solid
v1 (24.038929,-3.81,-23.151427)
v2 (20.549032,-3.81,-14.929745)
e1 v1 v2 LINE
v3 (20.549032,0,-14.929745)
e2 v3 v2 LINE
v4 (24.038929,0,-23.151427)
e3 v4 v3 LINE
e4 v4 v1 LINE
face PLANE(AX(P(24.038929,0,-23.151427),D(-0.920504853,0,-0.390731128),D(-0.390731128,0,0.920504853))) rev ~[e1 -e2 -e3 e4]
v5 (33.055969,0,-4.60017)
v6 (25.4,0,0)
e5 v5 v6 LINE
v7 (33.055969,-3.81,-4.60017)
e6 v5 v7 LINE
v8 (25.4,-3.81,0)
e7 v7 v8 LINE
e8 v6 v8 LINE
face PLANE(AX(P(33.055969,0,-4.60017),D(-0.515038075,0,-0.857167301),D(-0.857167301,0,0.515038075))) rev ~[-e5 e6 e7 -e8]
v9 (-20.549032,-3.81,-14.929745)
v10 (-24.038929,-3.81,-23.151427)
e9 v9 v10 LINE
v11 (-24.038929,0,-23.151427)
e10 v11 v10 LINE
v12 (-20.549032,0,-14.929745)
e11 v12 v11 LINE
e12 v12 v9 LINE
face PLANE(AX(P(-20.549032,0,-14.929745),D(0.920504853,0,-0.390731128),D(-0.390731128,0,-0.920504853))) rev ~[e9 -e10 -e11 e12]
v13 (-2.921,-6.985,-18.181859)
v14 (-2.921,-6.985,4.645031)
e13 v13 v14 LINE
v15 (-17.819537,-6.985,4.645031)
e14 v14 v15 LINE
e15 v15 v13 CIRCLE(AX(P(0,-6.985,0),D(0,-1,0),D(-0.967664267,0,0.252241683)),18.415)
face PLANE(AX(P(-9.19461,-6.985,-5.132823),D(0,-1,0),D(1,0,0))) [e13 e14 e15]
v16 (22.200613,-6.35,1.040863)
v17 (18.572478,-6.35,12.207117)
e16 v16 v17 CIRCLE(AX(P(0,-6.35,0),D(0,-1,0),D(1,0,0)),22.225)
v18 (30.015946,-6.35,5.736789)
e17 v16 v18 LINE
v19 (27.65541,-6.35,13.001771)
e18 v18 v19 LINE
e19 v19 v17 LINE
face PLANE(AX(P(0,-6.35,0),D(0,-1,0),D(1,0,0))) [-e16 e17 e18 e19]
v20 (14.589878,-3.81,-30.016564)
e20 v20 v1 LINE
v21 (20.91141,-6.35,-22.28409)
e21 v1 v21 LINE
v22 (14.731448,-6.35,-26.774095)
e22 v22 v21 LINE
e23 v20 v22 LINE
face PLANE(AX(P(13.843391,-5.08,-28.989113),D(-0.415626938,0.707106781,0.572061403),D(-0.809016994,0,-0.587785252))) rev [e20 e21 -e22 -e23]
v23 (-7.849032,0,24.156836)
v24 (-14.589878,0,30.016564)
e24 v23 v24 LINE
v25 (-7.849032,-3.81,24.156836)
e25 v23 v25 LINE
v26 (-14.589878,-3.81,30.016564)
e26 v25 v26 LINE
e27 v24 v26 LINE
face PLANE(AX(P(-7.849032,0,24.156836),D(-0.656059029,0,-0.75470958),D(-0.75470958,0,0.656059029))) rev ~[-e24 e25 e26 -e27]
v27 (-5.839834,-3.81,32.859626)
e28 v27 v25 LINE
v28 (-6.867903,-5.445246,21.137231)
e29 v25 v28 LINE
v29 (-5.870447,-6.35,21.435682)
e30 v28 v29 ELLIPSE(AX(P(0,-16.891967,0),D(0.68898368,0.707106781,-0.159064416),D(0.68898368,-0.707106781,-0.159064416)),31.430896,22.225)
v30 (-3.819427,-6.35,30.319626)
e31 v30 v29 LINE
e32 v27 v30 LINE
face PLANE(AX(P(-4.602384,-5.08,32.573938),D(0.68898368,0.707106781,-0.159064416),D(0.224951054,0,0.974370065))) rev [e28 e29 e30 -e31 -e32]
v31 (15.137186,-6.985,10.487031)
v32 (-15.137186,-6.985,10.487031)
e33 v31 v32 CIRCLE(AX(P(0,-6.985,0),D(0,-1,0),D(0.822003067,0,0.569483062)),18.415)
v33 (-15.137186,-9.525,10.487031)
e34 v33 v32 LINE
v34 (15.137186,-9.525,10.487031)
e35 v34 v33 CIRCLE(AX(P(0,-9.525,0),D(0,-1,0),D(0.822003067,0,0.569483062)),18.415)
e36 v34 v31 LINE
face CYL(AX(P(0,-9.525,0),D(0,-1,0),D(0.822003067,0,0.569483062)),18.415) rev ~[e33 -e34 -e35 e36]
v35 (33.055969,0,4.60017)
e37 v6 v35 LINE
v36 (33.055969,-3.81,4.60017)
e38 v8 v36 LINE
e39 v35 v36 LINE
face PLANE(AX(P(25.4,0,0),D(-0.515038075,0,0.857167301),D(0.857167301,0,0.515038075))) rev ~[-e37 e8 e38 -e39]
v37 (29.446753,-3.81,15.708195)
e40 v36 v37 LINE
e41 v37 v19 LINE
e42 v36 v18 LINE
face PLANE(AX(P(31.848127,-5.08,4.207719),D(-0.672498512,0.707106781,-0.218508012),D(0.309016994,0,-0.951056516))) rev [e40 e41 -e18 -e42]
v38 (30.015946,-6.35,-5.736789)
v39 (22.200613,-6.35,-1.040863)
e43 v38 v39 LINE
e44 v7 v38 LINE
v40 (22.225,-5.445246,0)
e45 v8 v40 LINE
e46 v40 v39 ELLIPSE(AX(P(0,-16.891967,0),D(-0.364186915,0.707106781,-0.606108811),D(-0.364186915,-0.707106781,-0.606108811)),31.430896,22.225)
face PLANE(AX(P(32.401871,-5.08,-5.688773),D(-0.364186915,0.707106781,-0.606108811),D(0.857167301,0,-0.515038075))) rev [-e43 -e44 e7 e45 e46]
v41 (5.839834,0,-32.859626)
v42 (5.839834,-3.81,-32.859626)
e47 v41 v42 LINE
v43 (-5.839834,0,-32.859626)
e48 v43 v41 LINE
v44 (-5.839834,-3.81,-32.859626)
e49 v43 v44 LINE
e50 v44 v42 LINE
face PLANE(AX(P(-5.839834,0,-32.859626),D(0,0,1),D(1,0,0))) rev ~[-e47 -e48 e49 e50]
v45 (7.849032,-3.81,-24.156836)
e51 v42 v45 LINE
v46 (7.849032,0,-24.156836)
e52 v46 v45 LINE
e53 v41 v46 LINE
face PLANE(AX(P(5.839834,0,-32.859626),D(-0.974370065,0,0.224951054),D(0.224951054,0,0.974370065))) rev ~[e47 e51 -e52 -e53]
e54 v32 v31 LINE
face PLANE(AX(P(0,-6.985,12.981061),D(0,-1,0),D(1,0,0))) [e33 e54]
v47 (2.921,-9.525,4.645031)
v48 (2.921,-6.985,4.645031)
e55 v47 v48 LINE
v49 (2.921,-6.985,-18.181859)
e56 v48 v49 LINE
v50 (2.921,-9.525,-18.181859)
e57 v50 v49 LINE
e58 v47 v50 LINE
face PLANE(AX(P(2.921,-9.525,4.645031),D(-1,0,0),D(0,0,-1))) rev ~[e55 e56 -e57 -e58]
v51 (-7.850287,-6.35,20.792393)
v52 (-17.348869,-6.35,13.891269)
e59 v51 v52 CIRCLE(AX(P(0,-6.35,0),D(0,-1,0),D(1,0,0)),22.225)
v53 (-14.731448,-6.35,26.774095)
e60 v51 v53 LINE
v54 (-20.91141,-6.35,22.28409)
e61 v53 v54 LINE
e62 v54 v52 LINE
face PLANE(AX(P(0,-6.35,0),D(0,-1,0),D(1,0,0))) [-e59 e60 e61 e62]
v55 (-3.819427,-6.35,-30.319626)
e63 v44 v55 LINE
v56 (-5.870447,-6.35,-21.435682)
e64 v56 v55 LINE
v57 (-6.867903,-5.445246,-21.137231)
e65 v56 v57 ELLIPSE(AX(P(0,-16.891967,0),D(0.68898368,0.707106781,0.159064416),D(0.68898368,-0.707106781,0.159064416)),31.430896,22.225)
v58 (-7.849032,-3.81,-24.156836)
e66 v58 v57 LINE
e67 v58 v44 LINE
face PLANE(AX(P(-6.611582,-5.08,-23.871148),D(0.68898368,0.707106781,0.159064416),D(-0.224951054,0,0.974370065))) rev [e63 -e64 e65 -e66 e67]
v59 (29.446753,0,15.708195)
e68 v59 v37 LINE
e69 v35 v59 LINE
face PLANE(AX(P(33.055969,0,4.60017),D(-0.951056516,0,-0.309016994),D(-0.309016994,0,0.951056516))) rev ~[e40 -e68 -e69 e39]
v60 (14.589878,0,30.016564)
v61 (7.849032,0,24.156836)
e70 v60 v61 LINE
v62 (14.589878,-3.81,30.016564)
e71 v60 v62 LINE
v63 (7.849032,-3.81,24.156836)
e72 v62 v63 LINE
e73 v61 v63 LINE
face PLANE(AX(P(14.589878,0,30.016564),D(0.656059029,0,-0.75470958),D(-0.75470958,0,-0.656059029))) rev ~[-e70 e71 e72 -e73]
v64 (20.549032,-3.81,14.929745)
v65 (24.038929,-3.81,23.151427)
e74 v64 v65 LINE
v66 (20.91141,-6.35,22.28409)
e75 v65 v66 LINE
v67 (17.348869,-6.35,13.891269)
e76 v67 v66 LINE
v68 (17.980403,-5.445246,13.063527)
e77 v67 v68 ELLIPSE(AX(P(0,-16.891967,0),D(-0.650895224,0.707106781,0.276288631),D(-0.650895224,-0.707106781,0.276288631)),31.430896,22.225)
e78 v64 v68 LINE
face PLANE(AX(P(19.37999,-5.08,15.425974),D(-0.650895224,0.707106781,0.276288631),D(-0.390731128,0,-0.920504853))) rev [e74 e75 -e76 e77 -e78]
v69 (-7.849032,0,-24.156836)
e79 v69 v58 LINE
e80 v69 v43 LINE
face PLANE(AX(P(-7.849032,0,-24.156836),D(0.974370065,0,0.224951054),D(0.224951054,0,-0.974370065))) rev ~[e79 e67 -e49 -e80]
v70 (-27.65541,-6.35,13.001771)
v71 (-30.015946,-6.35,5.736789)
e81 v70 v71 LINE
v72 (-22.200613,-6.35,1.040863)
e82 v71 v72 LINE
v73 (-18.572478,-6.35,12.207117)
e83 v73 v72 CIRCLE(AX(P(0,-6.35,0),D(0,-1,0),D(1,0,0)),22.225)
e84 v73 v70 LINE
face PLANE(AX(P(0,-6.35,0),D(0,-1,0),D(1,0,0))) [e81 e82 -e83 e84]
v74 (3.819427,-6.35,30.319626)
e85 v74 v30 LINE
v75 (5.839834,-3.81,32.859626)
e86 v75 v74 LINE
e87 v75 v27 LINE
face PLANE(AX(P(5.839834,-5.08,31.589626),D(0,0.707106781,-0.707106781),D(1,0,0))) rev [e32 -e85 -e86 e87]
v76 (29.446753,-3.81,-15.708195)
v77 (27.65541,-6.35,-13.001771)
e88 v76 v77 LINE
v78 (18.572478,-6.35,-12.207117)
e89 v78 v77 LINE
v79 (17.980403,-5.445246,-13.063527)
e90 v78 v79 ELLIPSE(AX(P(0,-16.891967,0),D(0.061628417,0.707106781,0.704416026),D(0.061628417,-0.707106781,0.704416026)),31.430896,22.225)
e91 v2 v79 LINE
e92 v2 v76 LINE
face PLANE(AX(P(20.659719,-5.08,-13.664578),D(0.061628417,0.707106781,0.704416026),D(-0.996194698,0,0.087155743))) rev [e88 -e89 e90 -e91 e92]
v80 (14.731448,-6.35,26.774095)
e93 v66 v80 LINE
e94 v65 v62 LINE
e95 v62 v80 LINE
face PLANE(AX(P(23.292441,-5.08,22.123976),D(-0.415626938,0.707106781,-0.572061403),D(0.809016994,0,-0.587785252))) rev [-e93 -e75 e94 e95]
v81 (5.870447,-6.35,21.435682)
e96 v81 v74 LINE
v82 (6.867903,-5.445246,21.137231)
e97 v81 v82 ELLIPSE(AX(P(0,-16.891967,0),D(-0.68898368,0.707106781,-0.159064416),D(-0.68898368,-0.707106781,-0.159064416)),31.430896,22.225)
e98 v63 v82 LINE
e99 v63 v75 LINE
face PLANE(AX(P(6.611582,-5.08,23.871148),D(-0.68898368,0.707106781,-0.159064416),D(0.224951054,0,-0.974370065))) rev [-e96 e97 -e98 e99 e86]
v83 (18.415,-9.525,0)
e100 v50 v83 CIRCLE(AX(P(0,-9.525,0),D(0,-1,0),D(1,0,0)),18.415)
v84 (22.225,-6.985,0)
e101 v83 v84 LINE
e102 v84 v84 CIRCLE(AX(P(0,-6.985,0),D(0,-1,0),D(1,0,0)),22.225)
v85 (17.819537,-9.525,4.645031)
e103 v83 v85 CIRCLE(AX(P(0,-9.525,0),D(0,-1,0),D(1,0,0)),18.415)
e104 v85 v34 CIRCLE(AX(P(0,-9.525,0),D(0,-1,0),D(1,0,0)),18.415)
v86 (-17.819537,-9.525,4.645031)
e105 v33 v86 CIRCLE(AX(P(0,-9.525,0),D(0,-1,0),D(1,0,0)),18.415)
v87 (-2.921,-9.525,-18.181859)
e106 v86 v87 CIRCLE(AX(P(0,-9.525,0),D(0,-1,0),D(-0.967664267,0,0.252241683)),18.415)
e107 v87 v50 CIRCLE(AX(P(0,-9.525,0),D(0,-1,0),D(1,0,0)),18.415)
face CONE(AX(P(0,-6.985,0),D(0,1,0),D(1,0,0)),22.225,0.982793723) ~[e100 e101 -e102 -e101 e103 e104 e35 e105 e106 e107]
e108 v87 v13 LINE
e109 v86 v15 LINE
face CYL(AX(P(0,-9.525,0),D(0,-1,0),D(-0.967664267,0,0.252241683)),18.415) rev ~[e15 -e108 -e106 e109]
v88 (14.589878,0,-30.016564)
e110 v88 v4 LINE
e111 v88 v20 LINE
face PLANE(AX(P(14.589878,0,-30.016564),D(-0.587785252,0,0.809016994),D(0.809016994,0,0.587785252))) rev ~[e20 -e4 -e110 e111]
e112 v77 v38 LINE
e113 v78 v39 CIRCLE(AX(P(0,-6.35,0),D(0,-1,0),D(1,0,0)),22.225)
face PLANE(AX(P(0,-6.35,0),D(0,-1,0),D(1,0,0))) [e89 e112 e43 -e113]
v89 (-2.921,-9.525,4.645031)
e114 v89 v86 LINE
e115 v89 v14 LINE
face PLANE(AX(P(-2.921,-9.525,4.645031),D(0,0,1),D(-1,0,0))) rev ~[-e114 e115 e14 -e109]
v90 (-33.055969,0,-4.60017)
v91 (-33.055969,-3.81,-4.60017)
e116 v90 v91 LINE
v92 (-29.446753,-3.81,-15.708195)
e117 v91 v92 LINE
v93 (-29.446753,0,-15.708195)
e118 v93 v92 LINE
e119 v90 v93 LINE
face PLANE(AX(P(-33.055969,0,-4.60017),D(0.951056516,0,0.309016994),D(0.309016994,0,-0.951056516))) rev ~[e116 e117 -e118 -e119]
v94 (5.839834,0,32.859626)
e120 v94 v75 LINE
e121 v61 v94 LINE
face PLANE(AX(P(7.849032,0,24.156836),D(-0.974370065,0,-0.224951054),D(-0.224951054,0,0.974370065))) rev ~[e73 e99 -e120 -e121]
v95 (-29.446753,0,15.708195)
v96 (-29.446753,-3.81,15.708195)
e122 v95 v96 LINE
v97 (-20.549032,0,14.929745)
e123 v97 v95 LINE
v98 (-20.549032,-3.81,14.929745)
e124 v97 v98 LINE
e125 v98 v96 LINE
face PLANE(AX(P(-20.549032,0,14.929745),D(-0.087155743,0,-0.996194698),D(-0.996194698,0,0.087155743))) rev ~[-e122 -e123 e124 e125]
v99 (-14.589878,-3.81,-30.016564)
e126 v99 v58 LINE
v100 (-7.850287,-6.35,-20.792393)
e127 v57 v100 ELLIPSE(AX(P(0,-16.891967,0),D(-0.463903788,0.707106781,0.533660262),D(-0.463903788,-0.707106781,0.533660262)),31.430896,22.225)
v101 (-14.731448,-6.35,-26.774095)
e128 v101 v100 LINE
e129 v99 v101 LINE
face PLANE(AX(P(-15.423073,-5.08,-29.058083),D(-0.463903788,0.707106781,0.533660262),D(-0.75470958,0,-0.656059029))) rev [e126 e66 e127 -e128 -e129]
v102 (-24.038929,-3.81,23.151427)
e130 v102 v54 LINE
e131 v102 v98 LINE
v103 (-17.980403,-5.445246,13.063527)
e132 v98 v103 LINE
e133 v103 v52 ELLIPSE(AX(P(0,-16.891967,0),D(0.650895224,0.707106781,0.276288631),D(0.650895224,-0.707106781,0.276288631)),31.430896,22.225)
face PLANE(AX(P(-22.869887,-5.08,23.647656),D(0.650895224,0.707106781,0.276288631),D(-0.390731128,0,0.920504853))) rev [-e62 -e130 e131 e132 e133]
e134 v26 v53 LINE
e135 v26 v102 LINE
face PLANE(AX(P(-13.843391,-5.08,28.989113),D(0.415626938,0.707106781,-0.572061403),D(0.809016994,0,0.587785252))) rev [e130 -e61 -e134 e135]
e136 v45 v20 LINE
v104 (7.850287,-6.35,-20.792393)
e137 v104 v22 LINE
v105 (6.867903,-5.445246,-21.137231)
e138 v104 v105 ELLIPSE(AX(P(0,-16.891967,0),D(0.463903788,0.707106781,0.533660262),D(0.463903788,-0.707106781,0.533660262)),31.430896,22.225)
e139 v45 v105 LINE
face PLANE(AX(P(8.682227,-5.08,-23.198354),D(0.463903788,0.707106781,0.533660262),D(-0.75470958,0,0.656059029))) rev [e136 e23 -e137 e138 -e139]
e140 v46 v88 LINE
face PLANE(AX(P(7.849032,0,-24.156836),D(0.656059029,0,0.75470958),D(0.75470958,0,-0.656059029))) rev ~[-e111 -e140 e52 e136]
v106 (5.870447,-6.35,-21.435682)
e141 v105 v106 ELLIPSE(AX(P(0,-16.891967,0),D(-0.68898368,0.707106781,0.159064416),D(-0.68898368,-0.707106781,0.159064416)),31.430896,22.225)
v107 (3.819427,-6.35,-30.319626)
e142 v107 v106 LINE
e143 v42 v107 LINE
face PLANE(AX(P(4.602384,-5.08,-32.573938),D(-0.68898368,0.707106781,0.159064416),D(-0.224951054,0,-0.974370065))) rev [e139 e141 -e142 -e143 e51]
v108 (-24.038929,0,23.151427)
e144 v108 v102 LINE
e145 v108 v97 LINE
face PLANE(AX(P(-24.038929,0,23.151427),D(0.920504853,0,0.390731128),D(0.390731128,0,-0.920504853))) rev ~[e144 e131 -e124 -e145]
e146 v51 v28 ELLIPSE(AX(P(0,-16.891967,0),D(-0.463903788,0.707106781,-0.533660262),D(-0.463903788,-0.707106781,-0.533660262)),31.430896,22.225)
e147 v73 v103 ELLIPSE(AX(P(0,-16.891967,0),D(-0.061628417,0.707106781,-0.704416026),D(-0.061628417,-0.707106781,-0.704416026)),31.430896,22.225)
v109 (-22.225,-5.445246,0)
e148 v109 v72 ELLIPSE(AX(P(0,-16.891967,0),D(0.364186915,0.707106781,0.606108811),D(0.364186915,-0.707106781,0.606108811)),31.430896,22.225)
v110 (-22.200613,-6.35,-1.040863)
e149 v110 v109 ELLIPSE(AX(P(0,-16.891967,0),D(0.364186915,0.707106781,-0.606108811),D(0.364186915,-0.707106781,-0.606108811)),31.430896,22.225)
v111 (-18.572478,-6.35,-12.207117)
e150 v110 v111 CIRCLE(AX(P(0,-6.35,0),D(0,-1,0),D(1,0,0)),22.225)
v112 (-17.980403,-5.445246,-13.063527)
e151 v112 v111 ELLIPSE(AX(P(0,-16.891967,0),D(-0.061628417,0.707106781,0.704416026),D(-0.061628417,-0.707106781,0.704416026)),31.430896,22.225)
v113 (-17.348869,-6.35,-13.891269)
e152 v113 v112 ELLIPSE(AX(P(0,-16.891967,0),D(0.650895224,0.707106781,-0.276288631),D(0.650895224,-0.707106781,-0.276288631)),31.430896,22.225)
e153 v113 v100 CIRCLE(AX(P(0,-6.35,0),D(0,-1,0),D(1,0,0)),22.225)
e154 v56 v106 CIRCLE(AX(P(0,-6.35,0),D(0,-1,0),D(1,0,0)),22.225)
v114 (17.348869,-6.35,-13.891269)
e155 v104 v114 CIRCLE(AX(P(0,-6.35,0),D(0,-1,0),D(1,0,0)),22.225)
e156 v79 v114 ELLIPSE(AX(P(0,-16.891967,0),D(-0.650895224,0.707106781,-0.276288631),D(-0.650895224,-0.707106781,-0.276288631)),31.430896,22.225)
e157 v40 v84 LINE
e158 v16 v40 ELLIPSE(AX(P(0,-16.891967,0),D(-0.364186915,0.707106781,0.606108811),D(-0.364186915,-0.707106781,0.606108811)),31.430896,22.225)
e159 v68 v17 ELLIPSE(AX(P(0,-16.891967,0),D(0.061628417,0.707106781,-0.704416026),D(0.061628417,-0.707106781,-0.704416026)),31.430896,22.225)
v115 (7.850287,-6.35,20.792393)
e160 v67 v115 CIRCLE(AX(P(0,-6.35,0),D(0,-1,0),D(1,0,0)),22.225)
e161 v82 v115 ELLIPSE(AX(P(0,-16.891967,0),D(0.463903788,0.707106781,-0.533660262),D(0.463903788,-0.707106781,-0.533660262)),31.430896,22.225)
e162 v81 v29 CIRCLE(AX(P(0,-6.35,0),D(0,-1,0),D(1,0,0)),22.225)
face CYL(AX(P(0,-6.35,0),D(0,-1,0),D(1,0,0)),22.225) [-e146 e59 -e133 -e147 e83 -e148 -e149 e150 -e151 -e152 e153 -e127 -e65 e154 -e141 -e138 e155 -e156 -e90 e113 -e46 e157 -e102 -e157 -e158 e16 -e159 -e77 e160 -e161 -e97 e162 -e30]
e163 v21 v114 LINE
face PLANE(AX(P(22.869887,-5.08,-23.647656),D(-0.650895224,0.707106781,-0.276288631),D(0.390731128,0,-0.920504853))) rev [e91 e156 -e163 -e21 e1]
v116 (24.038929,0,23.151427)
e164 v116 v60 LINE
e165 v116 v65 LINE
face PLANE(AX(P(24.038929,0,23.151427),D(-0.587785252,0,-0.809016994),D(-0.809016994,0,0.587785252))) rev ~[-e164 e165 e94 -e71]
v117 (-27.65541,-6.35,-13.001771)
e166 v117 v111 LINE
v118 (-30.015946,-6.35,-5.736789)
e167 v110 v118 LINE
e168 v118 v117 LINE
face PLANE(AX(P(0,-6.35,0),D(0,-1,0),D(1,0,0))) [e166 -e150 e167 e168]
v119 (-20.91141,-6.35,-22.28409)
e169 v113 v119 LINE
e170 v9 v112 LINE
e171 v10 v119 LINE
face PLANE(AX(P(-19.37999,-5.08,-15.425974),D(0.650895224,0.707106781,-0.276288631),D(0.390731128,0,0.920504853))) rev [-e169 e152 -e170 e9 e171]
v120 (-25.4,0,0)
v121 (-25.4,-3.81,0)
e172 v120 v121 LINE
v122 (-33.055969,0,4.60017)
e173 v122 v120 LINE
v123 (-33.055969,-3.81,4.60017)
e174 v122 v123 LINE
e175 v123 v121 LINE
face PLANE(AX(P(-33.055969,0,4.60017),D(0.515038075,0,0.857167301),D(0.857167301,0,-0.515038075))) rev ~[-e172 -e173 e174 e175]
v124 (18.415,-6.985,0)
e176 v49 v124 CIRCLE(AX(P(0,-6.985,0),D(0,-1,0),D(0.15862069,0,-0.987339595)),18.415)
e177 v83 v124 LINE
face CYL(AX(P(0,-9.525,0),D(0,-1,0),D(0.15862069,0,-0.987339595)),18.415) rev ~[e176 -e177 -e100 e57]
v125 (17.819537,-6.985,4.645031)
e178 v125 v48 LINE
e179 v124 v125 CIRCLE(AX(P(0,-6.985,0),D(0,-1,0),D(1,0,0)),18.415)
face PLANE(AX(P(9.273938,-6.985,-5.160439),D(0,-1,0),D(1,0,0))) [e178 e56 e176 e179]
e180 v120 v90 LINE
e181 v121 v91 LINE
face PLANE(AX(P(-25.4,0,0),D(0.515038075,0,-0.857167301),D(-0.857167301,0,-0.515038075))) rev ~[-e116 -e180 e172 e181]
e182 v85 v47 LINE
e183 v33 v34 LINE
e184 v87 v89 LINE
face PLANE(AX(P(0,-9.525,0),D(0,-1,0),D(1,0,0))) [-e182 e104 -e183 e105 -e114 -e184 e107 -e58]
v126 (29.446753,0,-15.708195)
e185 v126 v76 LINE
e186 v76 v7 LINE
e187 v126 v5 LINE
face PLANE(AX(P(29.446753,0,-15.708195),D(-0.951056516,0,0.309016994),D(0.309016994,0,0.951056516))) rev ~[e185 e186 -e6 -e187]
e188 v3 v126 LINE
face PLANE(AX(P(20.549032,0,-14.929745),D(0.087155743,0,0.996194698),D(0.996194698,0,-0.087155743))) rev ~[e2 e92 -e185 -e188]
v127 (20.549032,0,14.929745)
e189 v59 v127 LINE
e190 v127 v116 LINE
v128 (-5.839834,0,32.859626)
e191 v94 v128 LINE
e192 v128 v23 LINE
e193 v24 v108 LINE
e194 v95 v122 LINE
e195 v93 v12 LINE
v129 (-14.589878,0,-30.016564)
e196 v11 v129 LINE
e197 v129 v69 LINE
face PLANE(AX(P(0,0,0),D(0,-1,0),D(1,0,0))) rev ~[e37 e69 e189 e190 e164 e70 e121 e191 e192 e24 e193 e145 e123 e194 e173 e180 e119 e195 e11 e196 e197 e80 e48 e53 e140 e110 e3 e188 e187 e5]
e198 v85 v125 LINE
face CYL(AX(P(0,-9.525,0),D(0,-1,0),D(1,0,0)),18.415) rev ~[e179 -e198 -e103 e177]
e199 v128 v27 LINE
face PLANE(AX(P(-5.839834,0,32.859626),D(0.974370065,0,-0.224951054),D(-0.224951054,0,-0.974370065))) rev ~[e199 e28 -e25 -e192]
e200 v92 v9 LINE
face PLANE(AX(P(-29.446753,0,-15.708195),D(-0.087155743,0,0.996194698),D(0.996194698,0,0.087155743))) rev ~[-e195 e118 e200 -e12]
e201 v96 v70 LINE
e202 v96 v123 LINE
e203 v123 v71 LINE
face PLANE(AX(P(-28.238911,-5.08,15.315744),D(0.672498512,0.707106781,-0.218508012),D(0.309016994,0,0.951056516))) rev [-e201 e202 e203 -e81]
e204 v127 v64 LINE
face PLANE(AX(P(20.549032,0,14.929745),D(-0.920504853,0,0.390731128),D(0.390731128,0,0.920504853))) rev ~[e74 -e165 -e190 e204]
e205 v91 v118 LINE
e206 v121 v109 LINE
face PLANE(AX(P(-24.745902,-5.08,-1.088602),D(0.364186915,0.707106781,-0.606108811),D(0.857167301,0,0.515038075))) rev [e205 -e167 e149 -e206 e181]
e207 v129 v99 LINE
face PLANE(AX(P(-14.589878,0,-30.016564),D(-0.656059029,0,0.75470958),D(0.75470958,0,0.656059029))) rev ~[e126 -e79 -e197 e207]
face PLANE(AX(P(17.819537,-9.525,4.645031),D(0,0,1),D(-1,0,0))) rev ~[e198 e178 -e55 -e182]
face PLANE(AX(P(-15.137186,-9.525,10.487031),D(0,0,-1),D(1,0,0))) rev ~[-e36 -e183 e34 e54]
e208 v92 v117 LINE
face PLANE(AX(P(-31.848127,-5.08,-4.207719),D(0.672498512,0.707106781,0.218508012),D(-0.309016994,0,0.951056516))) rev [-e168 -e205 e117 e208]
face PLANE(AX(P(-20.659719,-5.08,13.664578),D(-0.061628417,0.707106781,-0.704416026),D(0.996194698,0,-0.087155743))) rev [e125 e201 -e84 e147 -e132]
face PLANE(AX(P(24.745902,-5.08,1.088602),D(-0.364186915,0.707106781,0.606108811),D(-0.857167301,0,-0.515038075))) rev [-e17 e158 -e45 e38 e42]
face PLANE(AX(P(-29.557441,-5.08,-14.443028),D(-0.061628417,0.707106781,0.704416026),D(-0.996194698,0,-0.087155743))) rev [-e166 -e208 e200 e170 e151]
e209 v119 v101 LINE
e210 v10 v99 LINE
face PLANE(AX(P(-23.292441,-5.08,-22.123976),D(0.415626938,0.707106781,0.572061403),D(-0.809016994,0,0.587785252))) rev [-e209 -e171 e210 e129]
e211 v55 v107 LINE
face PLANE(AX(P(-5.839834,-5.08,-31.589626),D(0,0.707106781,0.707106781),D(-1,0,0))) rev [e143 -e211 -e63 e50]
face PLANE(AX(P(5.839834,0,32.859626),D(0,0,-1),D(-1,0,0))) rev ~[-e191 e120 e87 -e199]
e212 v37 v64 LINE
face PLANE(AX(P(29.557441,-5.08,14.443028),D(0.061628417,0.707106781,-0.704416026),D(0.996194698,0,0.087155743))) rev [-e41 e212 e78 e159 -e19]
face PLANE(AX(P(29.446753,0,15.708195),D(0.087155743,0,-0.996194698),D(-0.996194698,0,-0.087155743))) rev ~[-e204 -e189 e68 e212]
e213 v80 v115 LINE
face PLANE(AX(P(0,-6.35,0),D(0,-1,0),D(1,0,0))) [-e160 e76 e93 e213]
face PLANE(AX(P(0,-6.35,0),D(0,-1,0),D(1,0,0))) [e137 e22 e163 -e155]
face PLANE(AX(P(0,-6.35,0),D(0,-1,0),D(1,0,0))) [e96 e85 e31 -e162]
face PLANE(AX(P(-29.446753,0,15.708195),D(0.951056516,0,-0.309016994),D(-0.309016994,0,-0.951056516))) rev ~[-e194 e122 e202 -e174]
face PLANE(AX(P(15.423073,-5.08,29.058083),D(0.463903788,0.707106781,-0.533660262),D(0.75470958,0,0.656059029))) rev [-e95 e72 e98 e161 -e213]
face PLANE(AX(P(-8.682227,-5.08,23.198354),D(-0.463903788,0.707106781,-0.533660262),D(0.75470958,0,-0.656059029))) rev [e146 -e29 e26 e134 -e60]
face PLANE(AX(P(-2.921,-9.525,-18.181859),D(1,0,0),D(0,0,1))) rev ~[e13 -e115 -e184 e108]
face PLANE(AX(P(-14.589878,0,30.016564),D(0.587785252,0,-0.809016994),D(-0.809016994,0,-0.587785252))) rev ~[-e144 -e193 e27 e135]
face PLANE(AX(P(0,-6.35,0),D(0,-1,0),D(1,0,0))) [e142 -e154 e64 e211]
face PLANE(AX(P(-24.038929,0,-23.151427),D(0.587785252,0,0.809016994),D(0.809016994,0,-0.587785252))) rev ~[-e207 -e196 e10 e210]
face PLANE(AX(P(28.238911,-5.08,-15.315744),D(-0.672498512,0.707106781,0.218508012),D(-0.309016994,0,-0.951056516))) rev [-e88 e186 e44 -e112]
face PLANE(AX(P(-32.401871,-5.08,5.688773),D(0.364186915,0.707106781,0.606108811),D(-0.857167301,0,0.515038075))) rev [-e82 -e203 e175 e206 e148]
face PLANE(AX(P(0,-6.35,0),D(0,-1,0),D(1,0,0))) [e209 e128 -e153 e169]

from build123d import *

# Parameters (mm, degrees)
F1_DEPTH = 6.35
F2_SIZE  = 2.54
F3_R     = 22.225
F4_DEPTH = 3.175
F5_SIZE2 = 2.54
F5_SIZE  = 3.81
F7_DEPTH = 2.54


with BuildPart() as f1:
    # F0 (on Front) → F1 (new body)
    with BuildSketch(Plane.XZ):
        with BuildLine():
            ThreePointArc((20.5490316571, -14.9297454082), (24.1568355139, -7.8490316571), (25.4, 0))
            ThreePointArc((25.4, 0), (24.1568355139, 7.8490316571), (20.5490316571, 14.9297454082))
            ThreePointArc((20.5490316571, 14.9297454082), (14.9297454082, 20.5490316571), (7.8490316571, 24.1568355139))
            ThreePointArc((7.8490316571, 24.1568355139), (0, 25.4), (-7.8490316571, 24.1568355139))
            ThreePointArc((-7.8490316571, 24.1568355139), (-14.9297454082, 20.5490316571), (-20.5490316571, 14.9297454082))
            ThreePointArc((-20.5490316571, 14.9297454082), (-24.1568355139, 7.8490316571), (-25.4, 0))
            ThreePointArc((-25.4, 0), (-24.1568355139, -7.8490316571), (-20.5490316571, -14.9297454082))
            ThreePointArc((-20.5490316571, -14.9297454082), (-14.9297454082, -20.5490316571), (-7.8490316571, -24.1568355139))
            ThreePointArc((-7.8490316571, -24.1568355139), (0, -25.4), (7.8490316571, -24.1568355139))
            ThreePointArc((7.8490316571, -24.1568355139), (14.9297454082, -20.5490316571), (20.5490316571, -14.9297454082))
        make_face()
        with BuildLine():
            Line((33.055969229, -4.6001704102), (25.4, 0))
            ThreePointArc((25.4, 0), (24.1568355139, -7.8490316571), (20.5490316571, -14.9297454082))
            Line((20.5490316571, -14.9297454082), (29.4467531969, -15.7081951742))
            Line((29.4467531969, -15.7081951742), (33.055969229, -4.6001704102))
        make_face()
        with BuildLine():
            ThreePointArc((20.5490316571, 14.9297454082), (24.1568355139, 7.8490316571), (25.4, 0))
            Line((25.4, 0), (33.055969229, 4.6001704102))
            Line((33.055969229, 4.6001704102), (29.4467531969, 15.7081951742))
            Line((29.4467531969, 15.7081951742), (20.5490316571, 14.9297454082))
        make_face()
        with BuildLine():
            ThreePointArc((7.8490316571, 24.1568355139), (14.9297454082, 20.5490316571), (20.5490316571, 14.9297454082))
            Line((20.5490316571, 14.9297454082), (24.0389285466, 23.1514272519))
            Line((24.0389285466, 23.1514272519), (14.589878302, 30.0165641039))
            Line((14.589878302, 30.0165641039), (7.8490316571, 24.1568355139))
        make_face()
        with BuildLine():
            Line((24.0389285466, -23.1514272519), (20.5490316571, -14.9297454082))
            ThreePointArc((20.5490316571, -14.9297454082), (14.9297454082, -20.5490316571), (7.8490316571, -24.1568355139))
            Line((7.8490316571, -24.1568355139), (14.589878302, -30.0165641039))
            Line((14.589878302, -30.0165641039), (24.0389285466, -23.1514272519))
        make_face()
        with BuildLine():
            ThreePointArc((-7.8490316571, 24.1568355139), (0, 25.4), (7.8490316571, 24.1568355139))
            Line((7.8490316571, 24.1568355139), (5.8398342126, 32.8596257714))
            Line((5.8398342126, 32.8596257714), (-5.8398342126, 32.8596257714))
            Line((-5.8398342126, 32.8596257714), (-7.8490316571, 24.1568355139))
        make_face()
        with BuildLine():
            Line((5.8398342126, -32.8596257714), (7.8490316571, -24.1568355139))
            ThreePointArc((7.8490316571, -24.1568355139), (0, -25.4), (-7.8490316571, -24.1568355139))
            Line((-7.8490316571, -24.1568355139), (-5.8398342126, -32.8596257714))
            Line((-5.8398342126, -32.8596257714), (5.8398342126, -32.8596257714))
        make_face()
        with BuildLine():
            ThreePointArc((-20.5490316571, 14.9297454082), (-14.9297454082, 20.5490316571), (-7.8490316571, 24.1568355139))
            Line((-7.8490316571, 24.1568355139), (-14.589878302, 30.0165641039))
            Line((-14.589878302, 30.0165641039), (-24.0389285466, 23.1514272519))
            Line((-24.0389285466, 23.1514272519), (-20.5490316571, 14.9297454082))
        make_face()
        with BuildLine():
            Line((-14.589878302, -30.0165641039), (-7.8490316571, -24.1568355139))
            ThreePointArc((-7.8490316571, -24.1568355139), (-14.9297454082, -20.5490316571), (-20.5490316571, -14.9297454082))
            Line((-20.5490316571, -14.9297454082), (-24.0389285466, -23.1514272519))
            Line((-24.0389285466, -23.1514272519), (-14.589878302, -30.0165641039))
        make_face()
        with BuildLine():
            ThreePointArc((-25.4, 0), (-24.1568355139, 7.8490316571), (-20.5490316571, 14.9297454082))
            Line((-20.5490316571, 14.9297454082), (-29.4467531969, 15.7081951742))
            Line((-29.4467531969, 15.7081951742), (-33.055969229, 4.6001704102))
            Line((-33.055969229, 4.6001704102), (-25.4, 0))
        make_face()
        with BuildLine():
            Line((-29.4467531969, -15.7081951742), (-20.5490316571, -14.9297454082))
            ThreePointArc((-20.5490316571, -14.9297454082), (-24.1568355139, -7.8490316571), (-25.4, 0))
            Line((-25.4, 0), (-33.055969229, -4.6001704102))
            Line((-33.055969229, -4.6001704102), (-29.4467531969, -15.7081951742))
        make_face()
    extrude(amount=F1_DEPTH)

    # F2
    f2_edges = [f1.edges().sort_by_distance(p)[0] for p in [
        (-22.29398, -6.35, -19.040586),
        (-19.314403, -6.35, -26.583996),
        (-11.219455, -6.35, -27.0867),
        (-6.844433, -6.35, -28.508231),
        (0, -6.35, -32.859626),
        (6.844433, -6.35, -28.508231),
        (11.219455, -6.35, -27.0867),
        (19.314403, -6.35, -26.583996),
        (22.29398, -6.35, -19.040586),
        (24.997892, -6.35, -15.31897),
        (31.251361, -6.35, -10.154183),
        (29.227985, -6.35, -2.300085),
        (29.227985, -6.35, 2.300085),
        (31.251361, -6.35, 10.154183),
        (24.997892, -6.35, 15.31897),
        (22.29398, -6.35, 19.040586),
        (19.314403, -6.35, 26.583996),
        (11.219455, -6.35, 27.0867),
        (6.844433, -6.35, 28.508231),
        (0, -6.35, 32.859626),
        (-6.844433, -6.35, 28.508231),
        (-11.219455, -6.35, 27.0867),
        (-19.314403, -6.35, 26.583996),
        (-22.29398, -6.35, 19.040586),
        (-24.997892, -6.35, 15.31897),
        (-31.251361, -6.35, 10.154183),
        (-29.227985, -6.35, 2.300085),
        (-29.227985, -6.35, -2.300085),
        (-31.251361, -6.35, -10.154183),
        (-24.997892, -6.35, -15.31897),
    ]]
    chamfer(f2_edges, length=F2_SIZE)

    # F3 (on face) → F4 (join, symmetric)
    with BuildSketch(Plane.XZ.offset(6.35)):
        Circle(F3_R)
    extrude(amount=F4_DEPTH, both=True)

    # F5
    f5_edges = [f1.edges().sort_by_distance(p)[0] for p in [
        (-22.225, -9.525, 0),
    ]]
    f5_side = f1.faces().sort_by_distance((0, -9.525, 0))[0]
    chamfer(f5_edges, length=F5_SIZE, length2=F5_SIZE2, reference=f5_side)

    # F6 (on face) → F7 (cut)
    with BuildSketch(Plane.XZ.offset(9.525)):
        with BuildLine():
            Line((-2.921, 4.6450305921), (-17.8195374743, 4.6450305921))
            ThreePointArc((-17.8195374743, 4.6450305921), (-15.4210632515, -10.0649407943), (-2.921, -18.1818586509))
            Line((-2.921, -18.1818586509), (-2.921, 4.6450305921))
        make_face()
        with BuildLine():
            ThreePointArc((15.1371864744, 10.4870305921), (0, 18.415), (-15.1371864744, 10.4870305921))
            Line((-15.1371864744, 10.4870305921), (15.1371864744, 10.4870305921))
        make_face()
        with BuildLine():
            Line((2.921, 4.6450305921), (2.921, -18.1818586509))
            ThreePointArc((2.921, -18.1818586509), (14.0161057359, -11.9440782399), (18.415, 0))
            ThreePointArc((18.415, 0), (18.2655277448, 2.3415211306), (17.8195374743, 4.6450305921))
            Line((17.8195374743, 4.6450305921), (2.921, 4.6450305921))
        make_face()
    extrude(amount=-F7_DEPTH, mode=Mode.SUBTRACT)


solid = f1.part
